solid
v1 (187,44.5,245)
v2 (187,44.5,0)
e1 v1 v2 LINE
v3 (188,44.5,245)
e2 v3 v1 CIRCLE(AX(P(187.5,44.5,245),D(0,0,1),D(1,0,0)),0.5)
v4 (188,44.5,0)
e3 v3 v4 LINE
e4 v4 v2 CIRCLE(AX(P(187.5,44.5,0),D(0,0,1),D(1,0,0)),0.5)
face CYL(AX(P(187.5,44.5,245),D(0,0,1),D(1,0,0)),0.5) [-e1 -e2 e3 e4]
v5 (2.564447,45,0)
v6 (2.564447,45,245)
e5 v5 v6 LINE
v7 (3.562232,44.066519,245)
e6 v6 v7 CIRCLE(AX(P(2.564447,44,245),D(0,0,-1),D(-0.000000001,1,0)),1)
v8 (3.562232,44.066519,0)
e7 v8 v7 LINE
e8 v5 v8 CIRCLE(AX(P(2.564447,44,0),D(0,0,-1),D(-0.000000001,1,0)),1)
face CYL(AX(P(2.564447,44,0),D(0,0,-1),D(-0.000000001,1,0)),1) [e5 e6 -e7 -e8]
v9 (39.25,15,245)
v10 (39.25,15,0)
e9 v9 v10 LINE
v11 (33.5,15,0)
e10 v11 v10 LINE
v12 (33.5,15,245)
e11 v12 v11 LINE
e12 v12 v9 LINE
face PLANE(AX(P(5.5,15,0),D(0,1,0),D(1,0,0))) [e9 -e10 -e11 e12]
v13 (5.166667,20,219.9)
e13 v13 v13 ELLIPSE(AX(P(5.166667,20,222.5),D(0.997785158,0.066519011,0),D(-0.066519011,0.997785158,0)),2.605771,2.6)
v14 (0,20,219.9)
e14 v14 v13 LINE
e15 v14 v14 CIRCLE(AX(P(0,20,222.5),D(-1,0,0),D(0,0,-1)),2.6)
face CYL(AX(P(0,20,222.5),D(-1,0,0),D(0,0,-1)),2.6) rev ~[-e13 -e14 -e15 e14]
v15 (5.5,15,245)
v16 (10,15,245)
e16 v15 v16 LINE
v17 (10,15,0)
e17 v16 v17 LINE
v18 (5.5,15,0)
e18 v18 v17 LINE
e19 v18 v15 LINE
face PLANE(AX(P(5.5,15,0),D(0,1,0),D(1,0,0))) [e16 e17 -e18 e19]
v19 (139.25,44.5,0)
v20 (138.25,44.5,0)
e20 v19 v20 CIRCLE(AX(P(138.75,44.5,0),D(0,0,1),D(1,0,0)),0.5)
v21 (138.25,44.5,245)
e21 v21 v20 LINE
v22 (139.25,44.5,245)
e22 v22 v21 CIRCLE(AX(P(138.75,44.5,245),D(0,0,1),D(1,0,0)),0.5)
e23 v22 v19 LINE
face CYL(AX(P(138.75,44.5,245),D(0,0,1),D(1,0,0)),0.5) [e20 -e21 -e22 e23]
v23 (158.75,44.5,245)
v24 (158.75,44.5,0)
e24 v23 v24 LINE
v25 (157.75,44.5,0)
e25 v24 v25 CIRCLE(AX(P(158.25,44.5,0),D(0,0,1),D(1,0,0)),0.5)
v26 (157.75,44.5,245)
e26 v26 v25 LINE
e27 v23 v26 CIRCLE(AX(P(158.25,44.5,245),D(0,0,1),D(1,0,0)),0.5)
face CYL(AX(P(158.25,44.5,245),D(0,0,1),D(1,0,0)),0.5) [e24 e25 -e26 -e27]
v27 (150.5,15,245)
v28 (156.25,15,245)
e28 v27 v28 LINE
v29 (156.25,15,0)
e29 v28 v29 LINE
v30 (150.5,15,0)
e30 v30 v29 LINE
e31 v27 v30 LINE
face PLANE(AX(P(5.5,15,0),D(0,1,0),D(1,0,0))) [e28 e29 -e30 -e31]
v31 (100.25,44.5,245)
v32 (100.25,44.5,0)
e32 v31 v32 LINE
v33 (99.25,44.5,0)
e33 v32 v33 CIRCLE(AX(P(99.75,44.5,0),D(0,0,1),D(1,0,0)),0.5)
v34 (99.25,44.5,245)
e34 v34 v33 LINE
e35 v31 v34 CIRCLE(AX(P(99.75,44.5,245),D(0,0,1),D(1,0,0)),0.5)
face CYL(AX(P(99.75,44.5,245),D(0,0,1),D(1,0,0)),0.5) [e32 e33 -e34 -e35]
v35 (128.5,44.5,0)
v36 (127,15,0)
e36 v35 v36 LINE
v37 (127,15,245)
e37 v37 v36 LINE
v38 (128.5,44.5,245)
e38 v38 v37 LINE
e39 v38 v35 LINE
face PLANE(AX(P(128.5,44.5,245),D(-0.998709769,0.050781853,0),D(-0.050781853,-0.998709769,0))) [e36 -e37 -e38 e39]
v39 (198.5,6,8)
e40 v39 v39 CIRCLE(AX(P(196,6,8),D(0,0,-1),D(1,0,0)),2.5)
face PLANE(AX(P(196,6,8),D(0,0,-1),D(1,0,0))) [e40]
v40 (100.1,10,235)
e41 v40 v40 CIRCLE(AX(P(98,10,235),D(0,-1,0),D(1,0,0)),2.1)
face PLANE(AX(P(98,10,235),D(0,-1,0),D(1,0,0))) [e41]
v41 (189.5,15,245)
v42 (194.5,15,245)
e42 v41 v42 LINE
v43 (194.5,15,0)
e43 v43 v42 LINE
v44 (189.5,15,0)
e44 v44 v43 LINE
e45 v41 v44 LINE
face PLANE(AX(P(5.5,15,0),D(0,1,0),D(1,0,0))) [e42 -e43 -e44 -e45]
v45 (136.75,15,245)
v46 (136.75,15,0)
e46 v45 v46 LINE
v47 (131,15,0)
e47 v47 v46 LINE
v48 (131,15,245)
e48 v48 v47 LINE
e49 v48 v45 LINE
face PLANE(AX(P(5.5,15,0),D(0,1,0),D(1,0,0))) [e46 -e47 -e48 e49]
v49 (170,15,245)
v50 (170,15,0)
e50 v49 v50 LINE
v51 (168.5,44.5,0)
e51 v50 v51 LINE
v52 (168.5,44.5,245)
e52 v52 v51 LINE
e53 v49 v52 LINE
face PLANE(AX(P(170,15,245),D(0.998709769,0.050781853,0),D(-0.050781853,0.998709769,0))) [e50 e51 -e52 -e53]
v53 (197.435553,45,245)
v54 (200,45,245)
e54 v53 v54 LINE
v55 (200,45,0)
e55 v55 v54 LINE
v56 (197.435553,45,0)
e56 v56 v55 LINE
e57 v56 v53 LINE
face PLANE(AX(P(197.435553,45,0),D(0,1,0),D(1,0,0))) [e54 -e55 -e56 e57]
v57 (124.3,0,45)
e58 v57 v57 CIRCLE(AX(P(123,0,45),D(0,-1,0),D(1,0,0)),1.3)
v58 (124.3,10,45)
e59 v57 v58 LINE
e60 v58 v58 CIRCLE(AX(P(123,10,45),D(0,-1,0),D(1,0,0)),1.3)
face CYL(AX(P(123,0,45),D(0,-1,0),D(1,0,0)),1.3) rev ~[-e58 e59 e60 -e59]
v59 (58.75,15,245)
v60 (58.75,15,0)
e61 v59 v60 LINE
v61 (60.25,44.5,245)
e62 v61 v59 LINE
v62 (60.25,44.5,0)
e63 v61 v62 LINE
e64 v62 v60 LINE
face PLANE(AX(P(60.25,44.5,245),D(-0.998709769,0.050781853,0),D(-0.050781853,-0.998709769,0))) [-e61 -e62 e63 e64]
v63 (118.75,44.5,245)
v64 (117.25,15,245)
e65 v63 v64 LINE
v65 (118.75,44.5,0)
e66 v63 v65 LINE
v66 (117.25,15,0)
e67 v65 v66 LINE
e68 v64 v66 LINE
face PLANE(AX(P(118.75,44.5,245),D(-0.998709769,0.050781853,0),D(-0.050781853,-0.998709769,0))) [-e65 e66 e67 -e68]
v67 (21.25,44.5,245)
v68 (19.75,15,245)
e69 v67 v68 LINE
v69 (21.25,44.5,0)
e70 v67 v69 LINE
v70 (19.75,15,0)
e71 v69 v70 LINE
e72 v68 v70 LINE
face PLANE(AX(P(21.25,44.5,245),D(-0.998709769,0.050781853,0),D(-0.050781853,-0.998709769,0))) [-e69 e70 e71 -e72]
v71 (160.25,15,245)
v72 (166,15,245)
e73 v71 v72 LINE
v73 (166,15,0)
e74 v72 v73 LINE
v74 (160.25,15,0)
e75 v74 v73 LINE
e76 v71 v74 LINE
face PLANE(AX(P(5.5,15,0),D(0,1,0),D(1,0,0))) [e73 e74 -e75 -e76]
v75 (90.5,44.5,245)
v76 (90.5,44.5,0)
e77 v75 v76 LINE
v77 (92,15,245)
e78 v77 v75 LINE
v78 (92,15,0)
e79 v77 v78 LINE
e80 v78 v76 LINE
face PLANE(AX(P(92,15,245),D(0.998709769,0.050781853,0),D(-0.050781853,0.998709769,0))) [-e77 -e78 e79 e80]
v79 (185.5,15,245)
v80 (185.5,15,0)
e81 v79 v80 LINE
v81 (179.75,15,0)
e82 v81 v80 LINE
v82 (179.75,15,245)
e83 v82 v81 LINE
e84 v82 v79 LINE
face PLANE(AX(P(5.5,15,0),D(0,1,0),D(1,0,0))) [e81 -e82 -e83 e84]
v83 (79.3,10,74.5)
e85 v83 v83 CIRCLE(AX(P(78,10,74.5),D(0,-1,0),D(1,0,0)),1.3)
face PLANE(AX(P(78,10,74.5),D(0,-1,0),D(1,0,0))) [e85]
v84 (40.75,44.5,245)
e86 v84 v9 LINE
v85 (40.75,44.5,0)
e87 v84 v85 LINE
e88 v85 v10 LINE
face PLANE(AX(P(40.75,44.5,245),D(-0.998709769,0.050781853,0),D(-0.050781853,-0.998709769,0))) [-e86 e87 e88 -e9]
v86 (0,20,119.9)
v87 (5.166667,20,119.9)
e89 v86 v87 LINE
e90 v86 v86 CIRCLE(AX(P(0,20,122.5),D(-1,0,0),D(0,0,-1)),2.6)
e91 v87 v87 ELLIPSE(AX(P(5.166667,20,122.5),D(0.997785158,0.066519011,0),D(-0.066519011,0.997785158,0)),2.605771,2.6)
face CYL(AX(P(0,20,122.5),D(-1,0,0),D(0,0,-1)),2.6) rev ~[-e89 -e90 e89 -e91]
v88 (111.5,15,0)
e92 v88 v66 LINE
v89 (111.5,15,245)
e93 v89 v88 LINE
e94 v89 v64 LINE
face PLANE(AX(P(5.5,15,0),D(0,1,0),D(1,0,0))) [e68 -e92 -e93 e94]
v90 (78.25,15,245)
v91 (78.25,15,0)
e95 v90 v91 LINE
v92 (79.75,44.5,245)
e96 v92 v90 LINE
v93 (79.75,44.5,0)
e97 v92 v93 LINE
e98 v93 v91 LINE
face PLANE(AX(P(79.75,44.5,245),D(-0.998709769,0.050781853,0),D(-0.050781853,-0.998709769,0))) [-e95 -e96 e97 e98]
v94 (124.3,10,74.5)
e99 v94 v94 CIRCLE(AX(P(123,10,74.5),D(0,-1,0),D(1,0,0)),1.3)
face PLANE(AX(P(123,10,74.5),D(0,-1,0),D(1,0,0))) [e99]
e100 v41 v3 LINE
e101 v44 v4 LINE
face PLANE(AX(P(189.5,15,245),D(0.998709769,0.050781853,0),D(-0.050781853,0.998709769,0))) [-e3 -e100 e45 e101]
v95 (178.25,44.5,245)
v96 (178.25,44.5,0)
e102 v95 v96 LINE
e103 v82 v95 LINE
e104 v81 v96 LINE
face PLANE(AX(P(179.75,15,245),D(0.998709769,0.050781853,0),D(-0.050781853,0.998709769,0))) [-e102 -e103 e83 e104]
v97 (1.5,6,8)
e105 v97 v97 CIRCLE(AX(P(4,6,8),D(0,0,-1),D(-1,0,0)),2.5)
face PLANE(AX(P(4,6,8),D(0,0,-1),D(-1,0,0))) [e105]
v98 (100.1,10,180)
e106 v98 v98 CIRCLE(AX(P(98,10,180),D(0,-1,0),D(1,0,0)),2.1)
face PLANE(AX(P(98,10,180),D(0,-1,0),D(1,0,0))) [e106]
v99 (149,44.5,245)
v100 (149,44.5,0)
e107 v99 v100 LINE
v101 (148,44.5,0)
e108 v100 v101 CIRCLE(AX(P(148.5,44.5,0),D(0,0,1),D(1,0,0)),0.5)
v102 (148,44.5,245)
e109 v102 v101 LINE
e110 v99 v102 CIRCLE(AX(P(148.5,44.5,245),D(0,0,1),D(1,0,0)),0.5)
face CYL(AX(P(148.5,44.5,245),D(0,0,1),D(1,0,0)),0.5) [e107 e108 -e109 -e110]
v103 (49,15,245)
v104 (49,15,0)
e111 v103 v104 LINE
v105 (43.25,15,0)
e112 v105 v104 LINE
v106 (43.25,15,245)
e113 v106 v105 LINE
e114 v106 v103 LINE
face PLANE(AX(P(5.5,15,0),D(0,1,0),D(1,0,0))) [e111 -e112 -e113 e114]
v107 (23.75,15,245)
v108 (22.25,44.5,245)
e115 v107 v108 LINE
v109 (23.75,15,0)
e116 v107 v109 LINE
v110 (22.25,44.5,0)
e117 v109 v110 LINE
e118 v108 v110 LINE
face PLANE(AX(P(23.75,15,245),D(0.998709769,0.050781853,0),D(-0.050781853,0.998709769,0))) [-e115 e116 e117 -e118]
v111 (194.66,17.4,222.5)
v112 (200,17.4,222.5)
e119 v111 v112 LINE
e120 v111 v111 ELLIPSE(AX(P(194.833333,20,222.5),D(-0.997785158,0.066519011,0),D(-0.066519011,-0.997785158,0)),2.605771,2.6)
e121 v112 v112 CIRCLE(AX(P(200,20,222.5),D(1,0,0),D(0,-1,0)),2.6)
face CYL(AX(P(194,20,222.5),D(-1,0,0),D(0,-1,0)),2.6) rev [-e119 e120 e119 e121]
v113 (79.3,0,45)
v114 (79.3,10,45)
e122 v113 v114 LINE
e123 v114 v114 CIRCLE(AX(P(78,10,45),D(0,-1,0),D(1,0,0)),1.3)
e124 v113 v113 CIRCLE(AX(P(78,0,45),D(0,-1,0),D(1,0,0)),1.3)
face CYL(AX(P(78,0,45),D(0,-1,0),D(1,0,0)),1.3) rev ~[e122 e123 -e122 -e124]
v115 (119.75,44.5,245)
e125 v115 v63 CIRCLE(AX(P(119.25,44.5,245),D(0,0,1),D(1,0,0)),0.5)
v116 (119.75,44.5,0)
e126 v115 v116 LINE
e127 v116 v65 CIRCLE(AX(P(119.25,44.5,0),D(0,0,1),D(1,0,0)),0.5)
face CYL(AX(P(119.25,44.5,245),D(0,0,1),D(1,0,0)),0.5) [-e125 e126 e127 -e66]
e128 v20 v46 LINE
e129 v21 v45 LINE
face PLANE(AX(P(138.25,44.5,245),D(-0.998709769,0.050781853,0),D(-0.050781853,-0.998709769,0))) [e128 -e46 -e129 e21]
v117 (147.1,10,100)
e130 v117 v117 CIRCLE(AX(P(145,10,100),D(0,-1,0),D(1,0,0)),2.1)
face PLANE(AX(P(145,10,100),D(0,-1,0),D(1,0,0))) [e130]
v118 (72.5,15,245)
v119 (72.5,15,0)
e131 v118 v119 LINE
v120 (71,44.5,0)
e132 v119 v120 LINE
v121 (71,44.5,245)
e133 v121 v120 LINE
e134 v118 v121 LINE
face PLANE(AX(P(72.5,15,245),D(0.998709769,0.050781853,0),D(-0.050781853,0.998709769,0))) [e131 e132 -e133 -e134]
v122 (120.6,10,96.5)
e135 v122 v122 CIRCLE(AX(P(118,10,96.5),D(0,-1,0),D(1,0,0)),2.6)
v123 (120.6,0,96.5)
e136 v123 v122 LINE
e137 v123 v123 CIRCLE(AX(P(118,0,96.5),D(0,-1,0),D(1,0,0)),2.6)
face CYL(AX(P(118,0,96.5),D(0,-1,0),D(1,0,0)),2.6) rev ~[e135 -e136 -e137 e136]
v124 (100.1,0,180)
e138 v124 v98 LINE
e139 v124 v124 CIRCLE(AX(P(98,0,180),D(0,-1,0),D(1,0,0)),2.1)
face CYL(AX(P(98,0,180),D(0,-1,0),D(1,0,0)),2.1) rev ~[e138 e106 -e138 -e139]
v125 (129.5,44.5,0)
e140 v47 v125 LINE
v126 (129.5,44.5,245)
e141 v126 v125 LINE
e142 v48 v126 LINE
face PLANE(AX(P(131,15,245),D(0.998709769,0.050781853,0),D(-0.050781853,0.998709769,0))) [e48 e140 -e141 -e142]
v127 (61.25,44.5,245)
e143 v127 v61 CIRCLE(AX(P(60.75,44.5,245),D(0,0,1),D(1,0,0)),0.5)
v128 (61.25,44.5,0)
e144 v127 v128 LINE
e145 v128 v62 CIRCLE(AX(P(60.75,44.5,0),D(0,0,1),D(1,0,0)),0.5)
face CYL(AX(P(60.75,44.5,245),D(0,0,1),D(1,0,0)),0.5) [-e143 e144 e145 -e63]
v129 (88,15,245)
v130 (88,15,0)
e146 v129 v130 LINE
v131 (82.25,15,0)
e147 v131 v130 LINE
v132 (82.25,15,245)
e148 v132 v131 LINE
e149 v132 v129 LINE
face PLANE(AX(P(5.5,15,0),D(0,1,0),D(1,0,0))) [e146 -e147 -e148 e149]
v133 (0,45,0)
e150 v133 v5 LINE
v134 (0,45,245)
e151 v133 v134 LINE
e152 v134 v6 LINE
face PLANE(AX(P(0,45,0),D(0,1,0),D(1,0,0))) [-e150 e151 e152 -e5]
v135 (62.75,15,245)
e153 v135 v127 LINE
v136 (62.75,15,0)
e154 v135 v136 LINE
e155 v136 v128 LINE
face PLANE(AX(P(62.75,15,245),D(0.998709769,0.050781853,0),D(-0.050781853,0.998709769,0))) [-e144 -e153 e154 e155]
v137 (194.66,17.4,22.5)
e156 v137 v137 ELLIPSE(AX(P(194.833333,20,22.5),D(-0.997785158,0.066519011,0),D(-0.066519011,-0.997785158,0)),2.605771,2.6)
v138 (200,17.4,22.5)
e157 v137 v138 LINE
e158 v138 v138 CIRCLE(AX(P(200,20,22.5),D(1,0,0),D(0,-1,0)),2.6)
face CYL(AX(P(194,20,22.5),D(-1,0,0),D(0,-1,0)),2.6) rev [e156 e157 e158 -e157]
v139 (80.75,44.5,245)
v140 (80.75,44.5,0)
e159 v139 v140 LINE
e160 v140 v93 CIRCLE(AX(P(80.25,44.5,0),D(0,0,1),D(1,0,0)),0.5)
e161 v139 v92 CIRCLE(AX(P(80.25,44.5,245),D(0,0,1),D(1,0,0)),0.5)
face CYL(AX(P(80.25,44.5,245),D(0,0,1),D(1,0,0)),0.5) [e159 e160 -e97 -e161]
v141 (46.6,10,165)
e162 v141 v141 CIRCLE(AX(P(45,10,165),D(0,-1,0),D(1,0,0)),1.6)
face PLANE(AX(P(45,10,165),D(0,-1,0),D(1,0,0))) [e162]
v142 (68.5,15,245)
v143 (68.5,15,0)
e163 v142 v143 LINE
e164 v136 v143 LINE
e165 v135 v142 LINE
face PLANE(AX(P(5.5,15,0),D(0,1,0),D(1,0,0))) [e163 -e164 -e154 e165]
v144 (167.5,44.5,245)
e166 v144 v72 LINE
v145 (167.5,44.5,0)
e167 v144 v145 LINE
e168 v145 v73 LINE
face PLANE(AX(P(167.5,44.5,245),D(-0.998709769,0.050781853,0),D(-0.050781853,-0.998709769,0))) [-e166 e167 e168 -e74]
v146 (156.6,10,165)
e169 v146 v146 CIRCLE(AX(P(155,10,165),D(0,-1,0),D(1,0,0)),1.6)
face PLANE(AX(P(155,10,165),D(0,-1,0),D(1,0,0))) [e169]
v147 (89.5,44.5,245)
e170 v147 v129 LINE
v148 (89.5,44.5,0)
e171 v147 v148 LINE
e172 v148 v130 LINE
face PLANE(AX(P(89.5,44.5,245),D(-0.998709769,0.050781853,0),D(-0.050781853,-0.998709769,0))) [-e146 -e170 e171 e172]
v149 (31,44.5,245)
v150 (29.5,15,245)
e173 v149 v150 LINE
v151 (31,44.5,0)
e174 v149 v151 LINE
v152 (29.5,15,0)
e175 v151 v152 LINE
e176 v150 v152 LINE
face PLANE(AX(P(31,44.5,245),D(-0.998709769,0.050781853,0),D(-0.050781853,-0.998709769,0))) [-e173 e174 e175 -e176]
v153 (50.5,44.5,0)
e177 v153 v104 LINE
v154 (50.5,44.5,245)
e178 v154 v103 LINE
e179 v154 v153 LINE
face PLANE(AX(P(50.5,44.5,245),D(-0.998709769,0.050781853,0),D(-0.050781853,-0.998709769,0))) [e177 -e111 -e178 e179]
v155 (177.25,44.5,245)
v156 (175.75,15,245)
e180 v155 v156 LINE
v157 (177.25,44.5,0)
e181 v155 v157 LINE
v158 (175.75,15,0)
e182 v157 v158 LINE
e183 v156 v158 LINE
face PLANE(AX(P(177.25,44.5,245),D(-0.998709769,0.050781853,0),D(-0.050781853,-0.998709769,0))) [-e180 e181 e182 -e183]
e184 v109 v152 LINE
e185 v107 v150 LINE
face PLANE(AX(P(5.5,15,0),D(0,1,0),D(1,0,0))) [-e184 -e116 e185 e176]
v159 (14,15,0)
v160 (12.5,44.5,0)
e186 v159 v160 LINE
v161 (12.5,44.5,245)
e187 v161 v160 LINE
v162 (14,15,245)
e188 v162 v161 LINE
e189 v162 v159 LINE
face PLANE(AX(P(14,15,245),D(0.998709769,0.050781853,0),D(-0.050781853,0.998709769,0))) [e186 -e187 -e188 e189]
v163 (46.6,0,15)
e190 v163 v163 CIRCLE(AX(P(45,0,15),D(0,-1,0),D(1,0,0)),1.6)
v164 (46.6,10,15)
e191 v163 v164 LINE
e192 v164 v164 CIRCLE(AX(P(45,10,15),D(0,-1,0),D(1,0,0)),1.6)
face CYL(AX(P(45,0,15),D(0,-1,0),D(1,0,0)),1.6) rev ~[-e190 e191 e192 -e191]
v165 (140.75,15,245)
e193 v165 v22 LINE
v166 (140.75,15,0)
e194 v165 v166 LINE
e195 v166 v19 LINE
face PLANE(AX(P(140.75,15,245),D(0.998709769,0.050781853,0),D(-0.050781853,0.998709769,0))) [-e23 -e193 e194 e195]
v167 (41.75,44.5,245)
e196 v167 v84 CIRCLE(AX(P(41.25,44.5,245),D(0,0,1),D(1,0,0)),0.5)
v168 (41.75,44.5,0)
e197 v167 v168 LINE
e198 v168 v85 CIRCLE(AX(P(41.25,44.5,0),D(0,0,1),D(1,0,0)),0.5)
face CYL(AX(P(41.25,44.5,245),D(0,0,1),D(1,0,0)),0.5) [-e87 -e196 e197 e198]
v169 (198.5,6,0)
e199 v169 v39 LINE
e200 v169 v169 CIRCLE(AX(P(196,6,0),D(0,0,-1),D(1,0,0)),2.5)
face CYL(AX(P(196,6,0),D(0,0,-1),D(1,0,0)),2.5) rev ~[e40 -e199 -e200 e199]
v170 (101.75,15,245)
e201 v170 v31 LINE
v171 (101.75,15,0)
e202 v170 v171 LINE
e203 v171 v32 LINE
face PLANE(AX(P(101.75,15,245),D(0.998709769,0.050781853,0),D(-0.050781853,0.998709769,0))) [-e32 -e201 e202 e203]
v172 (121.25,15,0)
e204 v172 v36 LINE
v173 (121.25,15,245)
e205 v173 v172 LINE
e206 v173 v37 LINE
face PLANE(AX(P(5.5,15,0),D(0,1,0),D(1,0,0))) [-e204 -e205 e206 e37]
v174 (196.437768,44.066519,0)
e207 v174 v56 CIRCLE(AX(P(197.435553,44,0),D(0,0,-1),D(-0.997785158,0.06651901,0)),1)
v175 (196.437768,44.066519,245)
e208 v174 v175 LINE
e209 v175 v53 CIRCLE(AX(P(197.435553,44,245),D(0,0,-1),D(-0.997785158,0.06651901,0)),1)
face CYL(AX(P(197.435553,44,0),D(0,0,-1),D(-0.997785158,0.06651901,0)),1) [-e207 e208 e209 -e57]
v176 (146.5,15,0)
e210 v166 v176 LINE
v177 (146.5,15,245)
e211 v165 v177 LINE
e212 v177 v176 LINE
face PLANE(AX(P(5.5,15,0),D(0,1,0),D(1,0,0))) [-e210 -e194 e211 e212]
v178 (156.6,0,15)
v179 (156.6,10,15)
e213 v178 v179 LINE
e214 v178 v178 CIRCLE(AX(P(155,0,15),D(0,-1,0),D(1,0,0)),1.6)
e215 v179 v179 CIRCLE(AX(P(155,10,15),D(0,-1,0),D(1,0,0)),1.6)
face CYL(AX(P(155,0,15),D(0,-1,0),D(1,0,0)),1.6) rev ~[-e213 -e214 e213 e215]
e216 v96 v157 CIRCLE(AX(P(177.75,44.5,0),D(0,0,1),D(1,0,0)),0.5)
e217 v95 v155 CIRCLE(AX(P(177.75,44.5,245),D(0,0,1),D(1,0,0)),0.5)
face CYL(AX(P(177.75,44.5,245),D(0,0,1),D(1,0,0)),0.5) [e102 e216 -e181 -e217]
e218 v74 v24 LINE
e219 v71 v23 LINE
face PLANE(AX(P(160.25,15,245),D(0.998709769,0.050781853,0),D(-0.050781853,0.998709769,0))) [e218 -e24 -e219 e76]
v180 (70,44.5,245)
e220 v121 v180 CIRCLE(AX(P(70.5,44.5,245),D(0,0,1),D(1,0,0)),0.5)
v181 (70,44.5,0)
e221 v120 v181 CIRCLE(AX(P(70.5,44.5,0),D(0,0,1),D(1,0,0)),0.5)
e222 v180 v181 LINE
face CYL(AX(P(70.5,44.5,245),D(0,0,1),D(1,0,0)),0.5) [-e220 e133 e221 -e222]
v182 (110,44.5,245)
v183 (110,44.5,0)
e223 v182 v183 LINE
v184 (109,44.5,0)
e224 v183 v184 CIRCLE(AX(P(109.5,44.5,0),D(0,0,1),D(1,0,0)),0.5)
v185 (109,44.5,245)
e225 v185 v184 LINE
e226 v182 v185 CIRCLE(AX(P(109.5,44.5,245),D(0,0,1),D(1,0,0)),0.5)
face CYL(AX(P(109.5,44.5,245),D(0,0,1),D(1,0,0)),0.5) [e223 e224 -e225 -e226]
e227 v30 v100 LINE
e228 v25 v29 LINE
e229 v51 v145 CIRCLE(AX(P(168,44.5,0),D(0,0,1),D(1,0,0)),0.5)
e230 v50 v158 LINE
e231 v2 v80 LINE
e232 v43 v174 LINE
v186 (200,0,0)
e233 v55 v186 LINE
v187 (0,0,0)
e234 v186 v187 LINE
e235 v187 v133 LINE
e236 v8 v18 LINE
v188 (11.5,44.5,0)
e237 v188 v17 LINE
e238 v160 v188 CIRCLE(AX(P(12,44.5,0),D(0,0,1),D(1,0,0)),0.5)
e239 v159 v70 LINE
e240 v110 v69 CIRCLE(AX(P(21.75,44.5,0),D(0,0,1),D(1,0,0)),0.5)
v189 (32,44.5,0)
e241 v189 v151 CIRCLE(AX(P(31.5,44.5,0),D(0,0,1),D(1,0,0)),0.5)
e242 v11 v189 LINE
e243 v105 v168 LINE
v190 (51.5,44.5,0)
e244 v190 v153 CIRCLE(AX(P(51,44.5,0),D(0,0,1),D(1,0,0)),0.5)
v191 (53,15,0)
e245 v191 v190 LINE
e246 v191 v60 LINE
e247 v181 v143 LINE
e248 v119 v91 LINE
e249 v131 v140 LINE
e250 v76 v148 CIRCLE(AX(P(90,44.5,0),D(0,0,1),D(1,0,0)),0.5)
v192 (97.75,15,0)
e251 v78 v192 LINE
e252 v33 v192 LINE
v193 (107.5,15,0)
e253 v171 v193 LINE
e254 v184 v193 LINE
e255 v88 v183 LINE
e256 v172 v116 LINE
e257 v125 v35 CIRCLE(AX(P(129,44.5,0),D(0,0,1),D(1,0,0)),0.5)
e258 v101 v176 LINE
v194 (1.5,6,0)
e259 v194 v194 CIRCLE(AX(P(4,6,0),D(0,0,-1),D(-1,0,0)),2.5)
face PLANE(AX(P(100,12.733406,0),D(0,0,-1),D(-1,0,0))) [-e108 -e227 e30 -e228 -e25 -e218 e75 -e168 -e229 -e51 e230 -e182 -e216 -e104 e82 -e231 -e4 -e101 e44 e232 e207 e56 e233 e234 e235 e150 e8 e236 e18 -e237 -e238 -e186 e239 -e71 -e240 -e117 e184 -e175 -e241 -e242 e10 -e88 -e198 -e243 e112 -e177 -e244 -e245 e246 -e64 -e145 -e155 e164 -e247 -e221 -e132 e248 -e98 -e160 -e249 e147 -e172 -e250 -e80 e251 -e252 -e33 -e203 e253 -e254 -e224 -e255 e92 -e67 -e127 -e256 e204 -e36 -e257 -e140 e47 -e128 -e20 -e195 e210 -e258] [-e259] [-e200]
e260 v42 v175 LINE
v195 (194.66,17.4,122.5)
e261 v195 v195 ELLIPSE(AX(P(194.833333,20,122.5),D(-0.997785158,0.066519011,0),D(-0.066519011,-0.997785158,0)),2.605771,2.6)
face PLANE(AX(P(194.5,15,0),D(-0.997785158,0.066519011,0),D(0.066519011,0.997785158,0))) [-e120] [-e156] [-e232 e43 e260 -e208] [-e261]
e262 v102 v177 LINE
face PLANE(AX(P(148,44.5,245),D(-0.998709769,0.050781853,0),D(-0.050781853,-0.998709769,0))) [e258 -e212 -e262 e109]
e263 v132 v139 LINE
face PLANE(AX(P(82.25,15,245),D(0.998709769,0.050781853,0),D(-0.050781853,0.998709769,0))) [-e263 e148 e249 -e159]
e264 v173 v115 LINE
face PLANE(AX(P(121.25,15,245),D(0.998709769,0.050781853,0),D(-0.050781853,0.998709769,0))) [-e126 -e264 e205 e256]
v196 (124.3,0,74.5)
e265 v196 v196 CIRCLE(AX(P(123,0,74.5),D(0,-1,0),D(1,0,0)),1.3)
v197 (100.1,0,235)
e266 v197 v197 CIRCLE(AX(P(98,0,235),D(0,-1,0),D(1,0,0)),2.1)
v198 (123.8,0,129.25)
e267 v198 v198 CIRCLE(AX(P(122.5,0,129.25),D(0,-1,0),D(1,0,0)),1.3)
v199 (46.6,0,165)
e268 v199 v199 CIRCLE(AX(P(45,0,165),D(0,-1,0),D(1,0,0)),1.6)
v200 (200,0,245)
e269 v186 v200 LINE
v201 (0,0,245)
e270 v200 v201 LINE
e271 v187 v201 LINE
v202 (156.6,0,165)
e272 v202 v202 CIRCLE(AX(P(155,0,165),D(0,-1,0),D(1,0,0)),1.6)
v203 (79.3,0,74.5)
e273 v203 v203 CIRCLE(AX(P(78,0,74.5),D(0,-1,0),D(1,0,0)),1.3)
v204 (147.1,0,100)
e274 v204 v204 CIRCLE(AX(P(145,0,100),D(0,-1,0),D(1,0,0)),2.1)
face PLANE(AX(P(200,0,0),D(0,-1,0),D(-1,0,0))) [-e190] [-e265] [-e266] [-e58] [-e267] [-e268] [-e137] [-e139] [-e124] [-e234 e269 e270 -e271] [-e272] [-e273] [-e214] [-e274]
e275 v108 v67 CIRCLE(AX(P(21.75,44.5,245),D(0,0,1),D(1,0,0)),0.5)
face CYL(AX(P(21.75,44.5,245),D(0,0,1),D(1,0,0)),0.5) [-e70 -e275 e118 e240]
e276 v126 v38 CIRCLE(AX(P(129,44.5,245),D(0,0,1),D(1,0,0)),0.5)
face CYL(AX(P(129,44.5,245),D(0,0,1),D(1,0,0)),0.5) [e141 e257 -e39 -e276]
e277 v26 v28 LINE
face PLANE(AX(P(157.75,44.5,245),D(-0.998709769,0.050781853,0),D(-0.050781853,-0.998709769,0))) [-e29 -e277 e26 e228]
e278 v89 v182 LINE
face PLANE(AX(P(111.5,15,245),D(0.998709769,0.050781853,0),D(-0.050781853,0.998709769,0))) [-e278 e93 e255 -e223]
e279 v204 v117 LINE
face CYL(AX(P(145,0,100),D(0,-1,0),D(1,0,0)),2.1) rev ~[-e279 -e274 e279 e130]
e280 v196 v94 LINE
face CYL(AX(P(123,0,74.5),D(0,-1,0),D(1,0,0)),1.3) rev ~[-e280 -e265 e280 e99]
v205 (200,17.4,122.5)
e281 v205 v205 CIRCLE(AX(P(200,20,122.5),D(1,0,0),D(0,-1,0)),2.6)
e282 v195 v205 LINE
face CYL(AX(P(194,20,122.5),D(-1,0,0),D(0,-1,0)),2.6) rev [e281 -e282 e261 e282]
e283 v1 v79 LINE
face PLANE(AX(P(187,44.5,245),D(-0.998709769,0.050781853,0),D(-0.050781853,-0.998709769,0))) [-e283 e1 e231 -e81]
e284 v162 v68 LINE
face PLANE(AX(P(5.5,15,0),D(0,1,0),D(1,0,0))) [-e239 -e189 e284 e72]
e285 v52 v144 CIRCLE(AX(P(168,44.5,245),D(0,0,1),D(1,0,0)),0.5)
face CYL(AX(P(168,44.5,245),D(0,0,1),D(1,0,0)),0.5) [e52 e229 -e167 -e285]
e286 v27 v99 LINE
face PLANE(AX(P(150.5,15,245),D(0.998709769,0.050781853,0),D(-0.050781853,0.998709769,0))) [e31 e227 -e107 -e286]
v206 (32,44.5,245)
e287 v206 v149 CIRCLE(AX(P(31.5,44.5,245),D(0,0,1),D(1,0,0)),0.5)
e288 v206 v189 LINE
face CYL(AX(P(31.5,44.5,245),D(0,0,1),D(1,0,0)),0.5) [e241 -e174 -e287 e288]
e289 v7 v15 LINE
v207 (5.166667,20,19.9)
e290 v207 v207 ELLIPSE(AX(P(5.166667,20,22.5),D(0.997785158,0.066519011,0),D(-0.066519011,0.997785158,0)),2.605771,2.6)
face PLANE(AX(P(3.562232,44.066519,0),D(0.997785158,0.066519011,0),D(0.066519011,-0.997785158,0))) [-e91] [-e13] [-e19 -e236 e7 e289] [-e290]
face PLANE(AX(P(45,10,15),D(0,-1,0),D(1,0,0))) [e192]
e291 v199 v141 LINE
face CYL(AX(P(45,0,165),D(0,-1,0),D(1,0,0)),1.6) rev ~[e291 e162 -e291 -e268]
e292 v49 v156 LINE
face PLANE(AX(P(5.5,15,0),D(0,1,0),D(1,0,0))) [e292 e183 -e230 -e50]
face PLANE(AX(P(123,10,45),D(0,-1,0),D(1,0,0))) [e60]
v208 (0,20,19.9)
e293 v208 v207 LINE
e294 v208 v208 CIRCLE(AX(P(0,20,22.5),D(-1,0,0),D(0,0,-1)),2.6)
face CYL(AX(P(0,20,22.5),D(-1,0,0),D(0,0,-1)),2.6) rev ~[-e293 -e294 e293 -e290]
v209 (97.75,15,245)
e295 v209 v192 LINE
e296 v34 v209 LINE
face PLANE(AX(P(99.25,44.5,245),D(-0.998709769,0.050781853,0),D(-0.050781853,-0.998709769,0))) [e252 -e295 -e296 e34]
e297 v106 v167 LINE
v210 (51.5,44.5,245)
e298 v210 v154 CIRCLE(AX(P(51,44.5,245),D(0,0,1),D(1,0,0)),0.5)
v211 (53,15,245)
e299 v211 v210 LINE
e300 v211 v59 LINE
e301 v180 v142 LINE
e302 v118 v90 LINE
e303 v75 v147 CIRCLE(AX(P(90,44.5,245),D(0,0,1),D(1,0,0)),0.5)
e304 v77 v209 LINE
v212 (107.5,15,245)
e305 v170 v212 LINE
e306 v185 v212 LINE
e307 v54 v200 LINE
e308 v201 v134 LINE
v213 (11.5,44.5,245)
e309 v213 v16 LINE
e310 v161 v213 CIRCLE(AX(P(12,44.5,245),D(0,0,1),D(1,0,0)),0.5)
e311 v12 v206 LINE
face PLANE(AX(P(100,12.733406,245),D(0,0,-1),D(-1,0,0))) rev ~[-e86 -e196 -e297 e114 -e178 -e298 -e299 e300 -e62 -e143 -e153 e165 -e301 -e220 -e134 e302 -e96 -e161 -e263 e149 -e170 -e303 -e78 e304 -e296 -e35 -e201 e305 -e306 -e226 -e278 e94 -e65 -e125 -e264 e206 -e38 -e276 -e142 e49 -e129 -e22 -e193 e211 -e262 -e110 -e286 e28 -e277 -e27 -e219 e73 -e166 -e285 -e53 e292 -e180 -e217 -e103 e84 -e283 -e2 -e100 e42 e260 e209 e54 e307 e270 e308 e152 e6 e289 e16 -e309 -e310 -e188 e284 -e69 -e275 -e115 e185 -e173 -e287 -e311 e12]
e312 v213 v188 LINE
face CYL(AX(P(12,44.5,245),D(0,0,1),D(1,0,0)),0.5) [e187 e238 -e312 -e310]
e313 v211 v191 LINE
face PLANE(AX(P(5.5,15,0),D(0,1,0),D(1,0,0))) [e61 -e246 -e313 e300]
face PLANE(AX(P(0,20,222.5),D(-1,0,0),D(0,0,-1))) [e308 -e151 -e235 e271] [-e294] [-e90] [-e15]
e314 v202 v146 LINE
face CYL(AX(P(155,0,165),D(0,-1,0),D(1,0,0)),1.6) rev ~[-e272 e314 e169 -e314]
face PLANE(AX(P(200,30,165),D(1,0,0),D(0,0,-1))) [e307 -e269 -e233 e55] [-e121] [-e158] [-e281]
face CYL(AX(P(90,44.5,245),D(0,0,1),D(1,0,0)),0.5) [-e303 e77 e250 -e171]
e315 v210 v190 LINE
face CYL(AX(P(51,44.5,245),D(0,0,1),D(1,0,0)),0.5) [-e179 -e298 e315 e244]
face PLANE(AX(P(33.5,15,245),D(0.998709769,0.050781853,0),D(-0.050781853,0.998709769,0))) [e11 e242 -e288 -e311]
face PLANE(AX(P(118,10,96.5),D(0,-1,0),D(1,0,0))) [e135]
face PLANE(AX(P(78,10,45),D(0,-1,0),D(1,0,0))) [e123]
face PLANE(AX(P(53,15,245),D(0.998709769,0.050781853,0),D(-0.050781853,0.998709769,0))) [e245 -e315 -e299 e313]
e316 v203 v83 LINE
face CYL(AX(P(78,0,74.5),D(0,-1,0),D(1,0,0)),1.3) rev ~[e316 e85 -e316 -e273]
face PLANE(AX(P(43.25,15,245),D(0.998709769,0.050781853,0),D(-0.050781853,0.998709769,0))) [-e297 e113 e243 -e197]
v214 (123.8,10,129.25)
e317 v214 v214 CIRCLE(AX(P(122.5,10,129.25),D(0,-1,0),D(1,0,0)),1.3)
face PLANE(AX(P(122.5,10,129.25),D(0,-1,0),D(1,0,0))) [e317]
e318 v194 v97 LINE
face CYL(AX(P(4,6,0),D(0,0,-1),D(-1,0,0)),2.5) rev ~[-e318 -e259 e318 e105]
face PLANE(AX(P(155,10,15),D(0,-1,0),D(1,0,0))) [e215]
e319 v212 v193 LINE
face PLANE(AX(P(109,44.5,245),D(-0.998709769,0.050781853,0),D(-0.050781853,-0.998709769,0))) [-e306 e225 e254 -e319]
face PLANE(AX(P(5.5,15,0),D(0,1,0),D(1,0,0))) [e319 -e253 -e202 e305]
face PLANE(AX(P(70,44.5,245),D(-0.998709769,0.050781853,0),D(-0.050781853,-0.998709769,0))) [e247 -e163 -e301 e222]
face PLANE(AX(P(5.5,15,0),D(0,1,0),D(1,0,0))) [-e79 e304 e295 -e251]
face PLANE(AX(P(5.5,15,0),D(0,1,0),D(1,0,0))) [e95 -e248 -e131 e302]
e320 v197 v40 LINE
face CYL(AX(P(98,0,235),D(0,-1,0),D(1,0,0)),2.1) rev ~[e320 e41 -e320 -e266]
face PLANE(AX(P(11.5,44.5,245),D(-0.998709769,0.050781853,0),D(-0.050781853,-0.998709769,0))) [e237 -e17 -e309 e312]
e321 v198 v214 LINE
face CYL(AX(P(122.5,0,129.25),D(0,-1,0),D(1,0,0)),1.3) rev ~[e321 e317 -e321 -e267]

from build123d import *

# Parameters (mm, degrees)
EXTRUDE_1_DEPTH       = 245
EXTRUDE_3_DEPTH       = 245
PATTERN_CURVE_1_COUNT = 19
PATTERN_CURVE_1_PITCH = 9.75
SKETCH_6_R            = 2.5
CUT_EXTRUDE_3_DEPTH   = 8
SKETCH_7_R            = 2.6
CUT_EXTRUDE_4_DEPTH   = 6
SKETCH_8_R            = 4.5
SKETCH_8_R_2          = 3.4
CUT_EXTRUDE_5_DEPTH   = 6
CUT_EXTRUDE_START     = -6
SKETCH_9_R            = 2.6
CUT_EXTRUDE_6_DEPTH   = 6
EXTRUDE_4_REACH       = 321.453
SKETCH_11_R           = 2.6
EXTRUDE_5_REACH       = 321.453
SKETCH_12_R           = 4.5
SKETCH_12_R_2         = 3.4
SKETCH_19_R           = 2.6
CUT_EXTRUDE_12_DEPTH  = 8
SKETCH_21_R           = 2.6
SKETCH_21_R_2         = 1.6
SKETCH_21_R_3         = 1.3
SKETCH_21_R_4         = 2.1
CUT_EXTRUDE_13_DEPTH  = 10


with BuildPart() as part:
    # Эскиз1 → Вытянуть1 (new body)
    with BuildSketch(Plane.XY):
        with BuildLine():
            Line((0, 45), (2.564446908, 45))
            ThreePointArc((2.564446908, 45), (3.247630994, 44.730246195), (3.562232066, 44.066519011))
            Line((3.562232066, 44.066519011), (5.5, 15))
            Line((5.5, 15), (194.5, 15))
            Line((194.5, 15), (196.437767934, 44.066519011))
            ThreePointArc((196.437767934, 44.066519011), (196.752369006, 44.730246195), (197.435553092, 45))
            Line((197.435553092, 45), (200, 45))
            Line((200, 45), (200, 0))
            Line((200, 0), (0, 0))
            Line((0, 0), (0, 45))
        make_face()
    extrude(amount=EXTRUDE_1_DEPTH)

    # Эскиз2 → Вытянуть3 (add)
    with BuildSketch(Plane.XY.offset(245)):
        with BuildLine():
            Line((11.5, 44.5), (10, 15))
            Line((10, 15), (14, 15))
            Line((14, 15), (12.5, 44.5))
            ThreePointArc((12.5, 44.5), (12, 45), (11.5, 44.5))
        make_face()
    extrude_3 = extrude(amount=-EXTRUDE_3_DEPTH)

    # Кривая1: Вытянуть3 ×19
    with Locations(*[(i * PATTERN_CURVE_1_PITCH, 0, 0) for i in range(1, PATTERN_CURVE_1_COUNT)]):
        add(extrude_3)

    # Эскиз6 → Вырез-Вытянуть3 (cut)
    with BuildSketch(Plane(origin=(0, 0, 0), x_dir=(-1, 0, 0), z_dir=(0, 0, -1))):
        with Locations((-4, 6)):
            Circle(SKETCH_6_R)
        with Locations(Location((-196, 6, 0), (0, 0, 180))):
            Circle(SKETCH_6_R)
    extrude(amount=-CUT_EXTRUDE_3_DEPTH, mode=Mode.SUBTRACT)

    # Эскиз7 → Вырез-Вытянуть4 (cut)
    with BuildSketch(Plane.ZY):
        with Locations(Location((22.5, 20, 0), (0, 0, 270))):
            Circle(SKETCH_7_R)
        with Locations(Location((222.5, 20, 0), (0, 0, 270))):
            Circle(SKETCH_7_R)
        with Locations(Location((122.5, 20, 0), (0, 0, 270))):
            Circle(SKETCH_7_R)
    extrude(amount=-CUT_EXTRUDE_4_DEPTH, mode=Mode.SUBTRACT)

    # Эскиз8 → Вырез-Вытянуть5 (cut)
    with BuildSketch(Plane(origin=(200, 0, 0), x_dir=(0, 0, -1), z_dir=(1, 0, 0))):
        with Locations((-80, 30)):
            Circle(SKETCH_8_R)
        with Locations((-165, 30)):
            Circle(SKETCH_8_R_2)
    extrude(amount=-CUT_EXTRUDE_5_DEPTH, mode=Mode.SUBTRACT)

    # Эскиз9 → Вырез-Вытянуть6 (cut)
    with BuildSketch(Plane(origin=(200, 0, 0), x_dir=(0, 0, -1), z_dir=(1, 0, 0)).offset(CUT_EXTRUDE_START)):
        with Locations(Location((-22.5, 20, 0), (0, 0, 270))):
            Circle(SKETCH_9_R)
        with Locations(Location((-122.5, 20, 0), (0, 0, 270))):
            Circle(SKETCH_9_R)
        with Locations(Location((-222.5, 20, 0), (0, 0, 270))):
            Circle(SKETCH_9_R)
    extrude(amount=CUT_EXTRUDE_6_DEPTH, mode=Mode.SUBTRACT)

    # Вытянуть4: up to this face of the body (flat: up to its plane)
    extrude_4_end = Plane(part.part.faces().sort_by_distance((4.525378677, 29.61931985, 122.5))[0])
    # Эскиз11 → Вытянуть4 (add, up to the picked face)
    with BuildSketch(Plane.ZY, mode=Mode.PRIVATE) as extrude_4_sk1:
        with Locations(Location((22.5, 20, 0), (0, 0, 180))):
            Circle(SKETCH_11_R)
    extrude_4_tool1 = split(extrude(extrude_4_sk1.sketch, amount=-EXTRUDE_4_REACH, mode=Mode.PRIVATE), bisect_by=extrude_4_end, keep=Keep.BOTH, mode=Mode.PRIVATE)
    # Эскиз11 → Вытянуть4 (add, up to the picked face)
    with BuildSketch(Plane.ZY, mode=Mode.PRIVATE) as extrude_4_sk2:
        with Locations(Location((122.5, 20, 0), (0, 0, 180))):
            Circle(SKETCH_11_R)
    extrude_4_tool2 = split(extrude(extrude_4_sk2.sketch, amount=-EXTRUDE_4_REACH, mode=Mode.PRIVATE), bisect_by=extrude_4_end, keep=Keep.BOTH, mode=Mode.PRIVATE)
    # Эскиз11 → Вытянуть4 (add, up to the picked face)
    with BuildSketch(Plane.ZY, mode=Mode.PRIVATE) as extrude_4_sk3:
        with Locations(Location((222.5, 20, 0), (0, 0, 180))):
            Circle(SKETCH_11_R)
    extrude_4_tool3 = split(extrude(extrude_4_sk3.sketch, amount=-EXTRUDE_4_REACH, mode=Mode.PRIVATE), bisect_by=extrude_4_end, keep=Keep.BOTH, mode=Mode.PRIVATE)
    add(extrude_4_tool1.solids().sort_by(Axis((0, 20, 22.5), (1, 0, 0)))[0])
    add(extrude_4_tool2.solids().sort_by(Axis((0, 20, 122.5), (1, 0, 0)))[0])
    add(extrude_4_tool3.solids().sort_by(Axis((0, 20, 222.5), (1, 0, 0)))[0])

    # Вытянуть5: up to this face of the body (flat: up to its plane)
    extrude_5_end = Plane(part.part.faces().sort_by_distance((195.474256805, 29.613852069, 122.666761542))[0])
    # Эскиз12 → Вытянуть5 (add, up to the picked face)
    with BuildSketch(Plane(origin=(200, 0, 0), x_dir=(0, 0, -1), z_dir=(1, 0, 0)), mode=Mode.PRIVATE) as extrude_5_sk1:
        with Locations((-80, 30)):
            Circle(SKETCH_12_R)
    extrude_5_tool1 = split(extrude(extrude_5_sk1.sketch, amount=-EXTRUDE_5_REACH, mode=Mode.PRIVATE), bisect_by=extrude_5_end, keep=Keep.BOTH, mode=Mode.PRIVATE)
    # Эскиз12 → Вытянуть5 (add, up to the picked face)
    with BuildSketch(Plane(origin=(200, 0, 0), x_dir=(0, 0, -1), z_dir=(1, 0, 0)), mode=Mode.PRIVATE) as extrude_5_sk2:
        with Locations((-165, 30)):
            Circle(SKETCH_12_R_2)
    extrude_5_tool2 = split(extrude(extrude_5_sk2.sketch, amount=-EXTRUDE_5_REACH, mode=Mode.PRIVATE), bisect_by=extrude_5_end, keep=Keep.BOTH, mode=Mode.PRIVATE)
    add(extrude_5_tool1.solids().sort_by(Axis((200, 30, 80), (-1, 0, 0)))[0])
    add(extrude_5_tool2.solids().sort_by(Axis((200, 30, 165), (-1, 0, 0)))[0])

    # Эскиз19 → Вырез-Вытянуть12 (cut)
    with BuildSketch(Plane.ZY):
        with Locations(Location((222.5, 20, 0), (0, 0, 180))):
            Circle(SKETCH_19_R)
        with Locations(Location((122.5, 20, 0), (0, 0, 180))):
            Circle(SKETCH_19_R)
        with Locations(Location((22.5, 20, 0), (0, 0, 180))):
            Circle(SKETCH_19_R)
    extrude(amount=-CUT_EXTRUDE_12_DEPTH, mode=Mode.SUBTRACT)

    # Эскиз21 → Вырез-Вытянуть13 (cut)
    with BuildSketch(Plane.XZ):
        with Locations((118, 96.5)):
            Circle(SKETCH_21_R)
        with Locations((45, 165)):
            Circle(SKETCH_21_R_2)
        with Locations((45, 15)):
            Circle(SKETCH_21_R_2)
        with Locations((155, 15)):
            Circle(SKETCH_21_R_2)
        with Locations((155, 165)):
            Circle(SKETCH_21_R_2)
        with Locations((78, 74.5)):
            Circle(SKETCH_21_R_3)
        with Locations((123, 74.5)):
            Circle(SKETCH_21_R_3)
        with Locations((78, 45)):
            Circle(SKETCH_21_R_3)
        with Locations((123, 45)):
            Circle(SKETCH_21_R_3)
        with Locations((122.5, 129.25)):
            Circle(SKETCH_21_R_3)
        with Locations((98, 235)):
            Circle(SKETCH_21_R_4)
        with Locations((145, 100)):
            Circle(SKETCH_21_R_4)
        with Locations((98, 180)):
            Circle(SKETCH_21_R_4)
    extrude(amount=-CUT_EXTRUDE_13_DEPTH, mode=Mode.SUBTRACT)


solid = part.part
